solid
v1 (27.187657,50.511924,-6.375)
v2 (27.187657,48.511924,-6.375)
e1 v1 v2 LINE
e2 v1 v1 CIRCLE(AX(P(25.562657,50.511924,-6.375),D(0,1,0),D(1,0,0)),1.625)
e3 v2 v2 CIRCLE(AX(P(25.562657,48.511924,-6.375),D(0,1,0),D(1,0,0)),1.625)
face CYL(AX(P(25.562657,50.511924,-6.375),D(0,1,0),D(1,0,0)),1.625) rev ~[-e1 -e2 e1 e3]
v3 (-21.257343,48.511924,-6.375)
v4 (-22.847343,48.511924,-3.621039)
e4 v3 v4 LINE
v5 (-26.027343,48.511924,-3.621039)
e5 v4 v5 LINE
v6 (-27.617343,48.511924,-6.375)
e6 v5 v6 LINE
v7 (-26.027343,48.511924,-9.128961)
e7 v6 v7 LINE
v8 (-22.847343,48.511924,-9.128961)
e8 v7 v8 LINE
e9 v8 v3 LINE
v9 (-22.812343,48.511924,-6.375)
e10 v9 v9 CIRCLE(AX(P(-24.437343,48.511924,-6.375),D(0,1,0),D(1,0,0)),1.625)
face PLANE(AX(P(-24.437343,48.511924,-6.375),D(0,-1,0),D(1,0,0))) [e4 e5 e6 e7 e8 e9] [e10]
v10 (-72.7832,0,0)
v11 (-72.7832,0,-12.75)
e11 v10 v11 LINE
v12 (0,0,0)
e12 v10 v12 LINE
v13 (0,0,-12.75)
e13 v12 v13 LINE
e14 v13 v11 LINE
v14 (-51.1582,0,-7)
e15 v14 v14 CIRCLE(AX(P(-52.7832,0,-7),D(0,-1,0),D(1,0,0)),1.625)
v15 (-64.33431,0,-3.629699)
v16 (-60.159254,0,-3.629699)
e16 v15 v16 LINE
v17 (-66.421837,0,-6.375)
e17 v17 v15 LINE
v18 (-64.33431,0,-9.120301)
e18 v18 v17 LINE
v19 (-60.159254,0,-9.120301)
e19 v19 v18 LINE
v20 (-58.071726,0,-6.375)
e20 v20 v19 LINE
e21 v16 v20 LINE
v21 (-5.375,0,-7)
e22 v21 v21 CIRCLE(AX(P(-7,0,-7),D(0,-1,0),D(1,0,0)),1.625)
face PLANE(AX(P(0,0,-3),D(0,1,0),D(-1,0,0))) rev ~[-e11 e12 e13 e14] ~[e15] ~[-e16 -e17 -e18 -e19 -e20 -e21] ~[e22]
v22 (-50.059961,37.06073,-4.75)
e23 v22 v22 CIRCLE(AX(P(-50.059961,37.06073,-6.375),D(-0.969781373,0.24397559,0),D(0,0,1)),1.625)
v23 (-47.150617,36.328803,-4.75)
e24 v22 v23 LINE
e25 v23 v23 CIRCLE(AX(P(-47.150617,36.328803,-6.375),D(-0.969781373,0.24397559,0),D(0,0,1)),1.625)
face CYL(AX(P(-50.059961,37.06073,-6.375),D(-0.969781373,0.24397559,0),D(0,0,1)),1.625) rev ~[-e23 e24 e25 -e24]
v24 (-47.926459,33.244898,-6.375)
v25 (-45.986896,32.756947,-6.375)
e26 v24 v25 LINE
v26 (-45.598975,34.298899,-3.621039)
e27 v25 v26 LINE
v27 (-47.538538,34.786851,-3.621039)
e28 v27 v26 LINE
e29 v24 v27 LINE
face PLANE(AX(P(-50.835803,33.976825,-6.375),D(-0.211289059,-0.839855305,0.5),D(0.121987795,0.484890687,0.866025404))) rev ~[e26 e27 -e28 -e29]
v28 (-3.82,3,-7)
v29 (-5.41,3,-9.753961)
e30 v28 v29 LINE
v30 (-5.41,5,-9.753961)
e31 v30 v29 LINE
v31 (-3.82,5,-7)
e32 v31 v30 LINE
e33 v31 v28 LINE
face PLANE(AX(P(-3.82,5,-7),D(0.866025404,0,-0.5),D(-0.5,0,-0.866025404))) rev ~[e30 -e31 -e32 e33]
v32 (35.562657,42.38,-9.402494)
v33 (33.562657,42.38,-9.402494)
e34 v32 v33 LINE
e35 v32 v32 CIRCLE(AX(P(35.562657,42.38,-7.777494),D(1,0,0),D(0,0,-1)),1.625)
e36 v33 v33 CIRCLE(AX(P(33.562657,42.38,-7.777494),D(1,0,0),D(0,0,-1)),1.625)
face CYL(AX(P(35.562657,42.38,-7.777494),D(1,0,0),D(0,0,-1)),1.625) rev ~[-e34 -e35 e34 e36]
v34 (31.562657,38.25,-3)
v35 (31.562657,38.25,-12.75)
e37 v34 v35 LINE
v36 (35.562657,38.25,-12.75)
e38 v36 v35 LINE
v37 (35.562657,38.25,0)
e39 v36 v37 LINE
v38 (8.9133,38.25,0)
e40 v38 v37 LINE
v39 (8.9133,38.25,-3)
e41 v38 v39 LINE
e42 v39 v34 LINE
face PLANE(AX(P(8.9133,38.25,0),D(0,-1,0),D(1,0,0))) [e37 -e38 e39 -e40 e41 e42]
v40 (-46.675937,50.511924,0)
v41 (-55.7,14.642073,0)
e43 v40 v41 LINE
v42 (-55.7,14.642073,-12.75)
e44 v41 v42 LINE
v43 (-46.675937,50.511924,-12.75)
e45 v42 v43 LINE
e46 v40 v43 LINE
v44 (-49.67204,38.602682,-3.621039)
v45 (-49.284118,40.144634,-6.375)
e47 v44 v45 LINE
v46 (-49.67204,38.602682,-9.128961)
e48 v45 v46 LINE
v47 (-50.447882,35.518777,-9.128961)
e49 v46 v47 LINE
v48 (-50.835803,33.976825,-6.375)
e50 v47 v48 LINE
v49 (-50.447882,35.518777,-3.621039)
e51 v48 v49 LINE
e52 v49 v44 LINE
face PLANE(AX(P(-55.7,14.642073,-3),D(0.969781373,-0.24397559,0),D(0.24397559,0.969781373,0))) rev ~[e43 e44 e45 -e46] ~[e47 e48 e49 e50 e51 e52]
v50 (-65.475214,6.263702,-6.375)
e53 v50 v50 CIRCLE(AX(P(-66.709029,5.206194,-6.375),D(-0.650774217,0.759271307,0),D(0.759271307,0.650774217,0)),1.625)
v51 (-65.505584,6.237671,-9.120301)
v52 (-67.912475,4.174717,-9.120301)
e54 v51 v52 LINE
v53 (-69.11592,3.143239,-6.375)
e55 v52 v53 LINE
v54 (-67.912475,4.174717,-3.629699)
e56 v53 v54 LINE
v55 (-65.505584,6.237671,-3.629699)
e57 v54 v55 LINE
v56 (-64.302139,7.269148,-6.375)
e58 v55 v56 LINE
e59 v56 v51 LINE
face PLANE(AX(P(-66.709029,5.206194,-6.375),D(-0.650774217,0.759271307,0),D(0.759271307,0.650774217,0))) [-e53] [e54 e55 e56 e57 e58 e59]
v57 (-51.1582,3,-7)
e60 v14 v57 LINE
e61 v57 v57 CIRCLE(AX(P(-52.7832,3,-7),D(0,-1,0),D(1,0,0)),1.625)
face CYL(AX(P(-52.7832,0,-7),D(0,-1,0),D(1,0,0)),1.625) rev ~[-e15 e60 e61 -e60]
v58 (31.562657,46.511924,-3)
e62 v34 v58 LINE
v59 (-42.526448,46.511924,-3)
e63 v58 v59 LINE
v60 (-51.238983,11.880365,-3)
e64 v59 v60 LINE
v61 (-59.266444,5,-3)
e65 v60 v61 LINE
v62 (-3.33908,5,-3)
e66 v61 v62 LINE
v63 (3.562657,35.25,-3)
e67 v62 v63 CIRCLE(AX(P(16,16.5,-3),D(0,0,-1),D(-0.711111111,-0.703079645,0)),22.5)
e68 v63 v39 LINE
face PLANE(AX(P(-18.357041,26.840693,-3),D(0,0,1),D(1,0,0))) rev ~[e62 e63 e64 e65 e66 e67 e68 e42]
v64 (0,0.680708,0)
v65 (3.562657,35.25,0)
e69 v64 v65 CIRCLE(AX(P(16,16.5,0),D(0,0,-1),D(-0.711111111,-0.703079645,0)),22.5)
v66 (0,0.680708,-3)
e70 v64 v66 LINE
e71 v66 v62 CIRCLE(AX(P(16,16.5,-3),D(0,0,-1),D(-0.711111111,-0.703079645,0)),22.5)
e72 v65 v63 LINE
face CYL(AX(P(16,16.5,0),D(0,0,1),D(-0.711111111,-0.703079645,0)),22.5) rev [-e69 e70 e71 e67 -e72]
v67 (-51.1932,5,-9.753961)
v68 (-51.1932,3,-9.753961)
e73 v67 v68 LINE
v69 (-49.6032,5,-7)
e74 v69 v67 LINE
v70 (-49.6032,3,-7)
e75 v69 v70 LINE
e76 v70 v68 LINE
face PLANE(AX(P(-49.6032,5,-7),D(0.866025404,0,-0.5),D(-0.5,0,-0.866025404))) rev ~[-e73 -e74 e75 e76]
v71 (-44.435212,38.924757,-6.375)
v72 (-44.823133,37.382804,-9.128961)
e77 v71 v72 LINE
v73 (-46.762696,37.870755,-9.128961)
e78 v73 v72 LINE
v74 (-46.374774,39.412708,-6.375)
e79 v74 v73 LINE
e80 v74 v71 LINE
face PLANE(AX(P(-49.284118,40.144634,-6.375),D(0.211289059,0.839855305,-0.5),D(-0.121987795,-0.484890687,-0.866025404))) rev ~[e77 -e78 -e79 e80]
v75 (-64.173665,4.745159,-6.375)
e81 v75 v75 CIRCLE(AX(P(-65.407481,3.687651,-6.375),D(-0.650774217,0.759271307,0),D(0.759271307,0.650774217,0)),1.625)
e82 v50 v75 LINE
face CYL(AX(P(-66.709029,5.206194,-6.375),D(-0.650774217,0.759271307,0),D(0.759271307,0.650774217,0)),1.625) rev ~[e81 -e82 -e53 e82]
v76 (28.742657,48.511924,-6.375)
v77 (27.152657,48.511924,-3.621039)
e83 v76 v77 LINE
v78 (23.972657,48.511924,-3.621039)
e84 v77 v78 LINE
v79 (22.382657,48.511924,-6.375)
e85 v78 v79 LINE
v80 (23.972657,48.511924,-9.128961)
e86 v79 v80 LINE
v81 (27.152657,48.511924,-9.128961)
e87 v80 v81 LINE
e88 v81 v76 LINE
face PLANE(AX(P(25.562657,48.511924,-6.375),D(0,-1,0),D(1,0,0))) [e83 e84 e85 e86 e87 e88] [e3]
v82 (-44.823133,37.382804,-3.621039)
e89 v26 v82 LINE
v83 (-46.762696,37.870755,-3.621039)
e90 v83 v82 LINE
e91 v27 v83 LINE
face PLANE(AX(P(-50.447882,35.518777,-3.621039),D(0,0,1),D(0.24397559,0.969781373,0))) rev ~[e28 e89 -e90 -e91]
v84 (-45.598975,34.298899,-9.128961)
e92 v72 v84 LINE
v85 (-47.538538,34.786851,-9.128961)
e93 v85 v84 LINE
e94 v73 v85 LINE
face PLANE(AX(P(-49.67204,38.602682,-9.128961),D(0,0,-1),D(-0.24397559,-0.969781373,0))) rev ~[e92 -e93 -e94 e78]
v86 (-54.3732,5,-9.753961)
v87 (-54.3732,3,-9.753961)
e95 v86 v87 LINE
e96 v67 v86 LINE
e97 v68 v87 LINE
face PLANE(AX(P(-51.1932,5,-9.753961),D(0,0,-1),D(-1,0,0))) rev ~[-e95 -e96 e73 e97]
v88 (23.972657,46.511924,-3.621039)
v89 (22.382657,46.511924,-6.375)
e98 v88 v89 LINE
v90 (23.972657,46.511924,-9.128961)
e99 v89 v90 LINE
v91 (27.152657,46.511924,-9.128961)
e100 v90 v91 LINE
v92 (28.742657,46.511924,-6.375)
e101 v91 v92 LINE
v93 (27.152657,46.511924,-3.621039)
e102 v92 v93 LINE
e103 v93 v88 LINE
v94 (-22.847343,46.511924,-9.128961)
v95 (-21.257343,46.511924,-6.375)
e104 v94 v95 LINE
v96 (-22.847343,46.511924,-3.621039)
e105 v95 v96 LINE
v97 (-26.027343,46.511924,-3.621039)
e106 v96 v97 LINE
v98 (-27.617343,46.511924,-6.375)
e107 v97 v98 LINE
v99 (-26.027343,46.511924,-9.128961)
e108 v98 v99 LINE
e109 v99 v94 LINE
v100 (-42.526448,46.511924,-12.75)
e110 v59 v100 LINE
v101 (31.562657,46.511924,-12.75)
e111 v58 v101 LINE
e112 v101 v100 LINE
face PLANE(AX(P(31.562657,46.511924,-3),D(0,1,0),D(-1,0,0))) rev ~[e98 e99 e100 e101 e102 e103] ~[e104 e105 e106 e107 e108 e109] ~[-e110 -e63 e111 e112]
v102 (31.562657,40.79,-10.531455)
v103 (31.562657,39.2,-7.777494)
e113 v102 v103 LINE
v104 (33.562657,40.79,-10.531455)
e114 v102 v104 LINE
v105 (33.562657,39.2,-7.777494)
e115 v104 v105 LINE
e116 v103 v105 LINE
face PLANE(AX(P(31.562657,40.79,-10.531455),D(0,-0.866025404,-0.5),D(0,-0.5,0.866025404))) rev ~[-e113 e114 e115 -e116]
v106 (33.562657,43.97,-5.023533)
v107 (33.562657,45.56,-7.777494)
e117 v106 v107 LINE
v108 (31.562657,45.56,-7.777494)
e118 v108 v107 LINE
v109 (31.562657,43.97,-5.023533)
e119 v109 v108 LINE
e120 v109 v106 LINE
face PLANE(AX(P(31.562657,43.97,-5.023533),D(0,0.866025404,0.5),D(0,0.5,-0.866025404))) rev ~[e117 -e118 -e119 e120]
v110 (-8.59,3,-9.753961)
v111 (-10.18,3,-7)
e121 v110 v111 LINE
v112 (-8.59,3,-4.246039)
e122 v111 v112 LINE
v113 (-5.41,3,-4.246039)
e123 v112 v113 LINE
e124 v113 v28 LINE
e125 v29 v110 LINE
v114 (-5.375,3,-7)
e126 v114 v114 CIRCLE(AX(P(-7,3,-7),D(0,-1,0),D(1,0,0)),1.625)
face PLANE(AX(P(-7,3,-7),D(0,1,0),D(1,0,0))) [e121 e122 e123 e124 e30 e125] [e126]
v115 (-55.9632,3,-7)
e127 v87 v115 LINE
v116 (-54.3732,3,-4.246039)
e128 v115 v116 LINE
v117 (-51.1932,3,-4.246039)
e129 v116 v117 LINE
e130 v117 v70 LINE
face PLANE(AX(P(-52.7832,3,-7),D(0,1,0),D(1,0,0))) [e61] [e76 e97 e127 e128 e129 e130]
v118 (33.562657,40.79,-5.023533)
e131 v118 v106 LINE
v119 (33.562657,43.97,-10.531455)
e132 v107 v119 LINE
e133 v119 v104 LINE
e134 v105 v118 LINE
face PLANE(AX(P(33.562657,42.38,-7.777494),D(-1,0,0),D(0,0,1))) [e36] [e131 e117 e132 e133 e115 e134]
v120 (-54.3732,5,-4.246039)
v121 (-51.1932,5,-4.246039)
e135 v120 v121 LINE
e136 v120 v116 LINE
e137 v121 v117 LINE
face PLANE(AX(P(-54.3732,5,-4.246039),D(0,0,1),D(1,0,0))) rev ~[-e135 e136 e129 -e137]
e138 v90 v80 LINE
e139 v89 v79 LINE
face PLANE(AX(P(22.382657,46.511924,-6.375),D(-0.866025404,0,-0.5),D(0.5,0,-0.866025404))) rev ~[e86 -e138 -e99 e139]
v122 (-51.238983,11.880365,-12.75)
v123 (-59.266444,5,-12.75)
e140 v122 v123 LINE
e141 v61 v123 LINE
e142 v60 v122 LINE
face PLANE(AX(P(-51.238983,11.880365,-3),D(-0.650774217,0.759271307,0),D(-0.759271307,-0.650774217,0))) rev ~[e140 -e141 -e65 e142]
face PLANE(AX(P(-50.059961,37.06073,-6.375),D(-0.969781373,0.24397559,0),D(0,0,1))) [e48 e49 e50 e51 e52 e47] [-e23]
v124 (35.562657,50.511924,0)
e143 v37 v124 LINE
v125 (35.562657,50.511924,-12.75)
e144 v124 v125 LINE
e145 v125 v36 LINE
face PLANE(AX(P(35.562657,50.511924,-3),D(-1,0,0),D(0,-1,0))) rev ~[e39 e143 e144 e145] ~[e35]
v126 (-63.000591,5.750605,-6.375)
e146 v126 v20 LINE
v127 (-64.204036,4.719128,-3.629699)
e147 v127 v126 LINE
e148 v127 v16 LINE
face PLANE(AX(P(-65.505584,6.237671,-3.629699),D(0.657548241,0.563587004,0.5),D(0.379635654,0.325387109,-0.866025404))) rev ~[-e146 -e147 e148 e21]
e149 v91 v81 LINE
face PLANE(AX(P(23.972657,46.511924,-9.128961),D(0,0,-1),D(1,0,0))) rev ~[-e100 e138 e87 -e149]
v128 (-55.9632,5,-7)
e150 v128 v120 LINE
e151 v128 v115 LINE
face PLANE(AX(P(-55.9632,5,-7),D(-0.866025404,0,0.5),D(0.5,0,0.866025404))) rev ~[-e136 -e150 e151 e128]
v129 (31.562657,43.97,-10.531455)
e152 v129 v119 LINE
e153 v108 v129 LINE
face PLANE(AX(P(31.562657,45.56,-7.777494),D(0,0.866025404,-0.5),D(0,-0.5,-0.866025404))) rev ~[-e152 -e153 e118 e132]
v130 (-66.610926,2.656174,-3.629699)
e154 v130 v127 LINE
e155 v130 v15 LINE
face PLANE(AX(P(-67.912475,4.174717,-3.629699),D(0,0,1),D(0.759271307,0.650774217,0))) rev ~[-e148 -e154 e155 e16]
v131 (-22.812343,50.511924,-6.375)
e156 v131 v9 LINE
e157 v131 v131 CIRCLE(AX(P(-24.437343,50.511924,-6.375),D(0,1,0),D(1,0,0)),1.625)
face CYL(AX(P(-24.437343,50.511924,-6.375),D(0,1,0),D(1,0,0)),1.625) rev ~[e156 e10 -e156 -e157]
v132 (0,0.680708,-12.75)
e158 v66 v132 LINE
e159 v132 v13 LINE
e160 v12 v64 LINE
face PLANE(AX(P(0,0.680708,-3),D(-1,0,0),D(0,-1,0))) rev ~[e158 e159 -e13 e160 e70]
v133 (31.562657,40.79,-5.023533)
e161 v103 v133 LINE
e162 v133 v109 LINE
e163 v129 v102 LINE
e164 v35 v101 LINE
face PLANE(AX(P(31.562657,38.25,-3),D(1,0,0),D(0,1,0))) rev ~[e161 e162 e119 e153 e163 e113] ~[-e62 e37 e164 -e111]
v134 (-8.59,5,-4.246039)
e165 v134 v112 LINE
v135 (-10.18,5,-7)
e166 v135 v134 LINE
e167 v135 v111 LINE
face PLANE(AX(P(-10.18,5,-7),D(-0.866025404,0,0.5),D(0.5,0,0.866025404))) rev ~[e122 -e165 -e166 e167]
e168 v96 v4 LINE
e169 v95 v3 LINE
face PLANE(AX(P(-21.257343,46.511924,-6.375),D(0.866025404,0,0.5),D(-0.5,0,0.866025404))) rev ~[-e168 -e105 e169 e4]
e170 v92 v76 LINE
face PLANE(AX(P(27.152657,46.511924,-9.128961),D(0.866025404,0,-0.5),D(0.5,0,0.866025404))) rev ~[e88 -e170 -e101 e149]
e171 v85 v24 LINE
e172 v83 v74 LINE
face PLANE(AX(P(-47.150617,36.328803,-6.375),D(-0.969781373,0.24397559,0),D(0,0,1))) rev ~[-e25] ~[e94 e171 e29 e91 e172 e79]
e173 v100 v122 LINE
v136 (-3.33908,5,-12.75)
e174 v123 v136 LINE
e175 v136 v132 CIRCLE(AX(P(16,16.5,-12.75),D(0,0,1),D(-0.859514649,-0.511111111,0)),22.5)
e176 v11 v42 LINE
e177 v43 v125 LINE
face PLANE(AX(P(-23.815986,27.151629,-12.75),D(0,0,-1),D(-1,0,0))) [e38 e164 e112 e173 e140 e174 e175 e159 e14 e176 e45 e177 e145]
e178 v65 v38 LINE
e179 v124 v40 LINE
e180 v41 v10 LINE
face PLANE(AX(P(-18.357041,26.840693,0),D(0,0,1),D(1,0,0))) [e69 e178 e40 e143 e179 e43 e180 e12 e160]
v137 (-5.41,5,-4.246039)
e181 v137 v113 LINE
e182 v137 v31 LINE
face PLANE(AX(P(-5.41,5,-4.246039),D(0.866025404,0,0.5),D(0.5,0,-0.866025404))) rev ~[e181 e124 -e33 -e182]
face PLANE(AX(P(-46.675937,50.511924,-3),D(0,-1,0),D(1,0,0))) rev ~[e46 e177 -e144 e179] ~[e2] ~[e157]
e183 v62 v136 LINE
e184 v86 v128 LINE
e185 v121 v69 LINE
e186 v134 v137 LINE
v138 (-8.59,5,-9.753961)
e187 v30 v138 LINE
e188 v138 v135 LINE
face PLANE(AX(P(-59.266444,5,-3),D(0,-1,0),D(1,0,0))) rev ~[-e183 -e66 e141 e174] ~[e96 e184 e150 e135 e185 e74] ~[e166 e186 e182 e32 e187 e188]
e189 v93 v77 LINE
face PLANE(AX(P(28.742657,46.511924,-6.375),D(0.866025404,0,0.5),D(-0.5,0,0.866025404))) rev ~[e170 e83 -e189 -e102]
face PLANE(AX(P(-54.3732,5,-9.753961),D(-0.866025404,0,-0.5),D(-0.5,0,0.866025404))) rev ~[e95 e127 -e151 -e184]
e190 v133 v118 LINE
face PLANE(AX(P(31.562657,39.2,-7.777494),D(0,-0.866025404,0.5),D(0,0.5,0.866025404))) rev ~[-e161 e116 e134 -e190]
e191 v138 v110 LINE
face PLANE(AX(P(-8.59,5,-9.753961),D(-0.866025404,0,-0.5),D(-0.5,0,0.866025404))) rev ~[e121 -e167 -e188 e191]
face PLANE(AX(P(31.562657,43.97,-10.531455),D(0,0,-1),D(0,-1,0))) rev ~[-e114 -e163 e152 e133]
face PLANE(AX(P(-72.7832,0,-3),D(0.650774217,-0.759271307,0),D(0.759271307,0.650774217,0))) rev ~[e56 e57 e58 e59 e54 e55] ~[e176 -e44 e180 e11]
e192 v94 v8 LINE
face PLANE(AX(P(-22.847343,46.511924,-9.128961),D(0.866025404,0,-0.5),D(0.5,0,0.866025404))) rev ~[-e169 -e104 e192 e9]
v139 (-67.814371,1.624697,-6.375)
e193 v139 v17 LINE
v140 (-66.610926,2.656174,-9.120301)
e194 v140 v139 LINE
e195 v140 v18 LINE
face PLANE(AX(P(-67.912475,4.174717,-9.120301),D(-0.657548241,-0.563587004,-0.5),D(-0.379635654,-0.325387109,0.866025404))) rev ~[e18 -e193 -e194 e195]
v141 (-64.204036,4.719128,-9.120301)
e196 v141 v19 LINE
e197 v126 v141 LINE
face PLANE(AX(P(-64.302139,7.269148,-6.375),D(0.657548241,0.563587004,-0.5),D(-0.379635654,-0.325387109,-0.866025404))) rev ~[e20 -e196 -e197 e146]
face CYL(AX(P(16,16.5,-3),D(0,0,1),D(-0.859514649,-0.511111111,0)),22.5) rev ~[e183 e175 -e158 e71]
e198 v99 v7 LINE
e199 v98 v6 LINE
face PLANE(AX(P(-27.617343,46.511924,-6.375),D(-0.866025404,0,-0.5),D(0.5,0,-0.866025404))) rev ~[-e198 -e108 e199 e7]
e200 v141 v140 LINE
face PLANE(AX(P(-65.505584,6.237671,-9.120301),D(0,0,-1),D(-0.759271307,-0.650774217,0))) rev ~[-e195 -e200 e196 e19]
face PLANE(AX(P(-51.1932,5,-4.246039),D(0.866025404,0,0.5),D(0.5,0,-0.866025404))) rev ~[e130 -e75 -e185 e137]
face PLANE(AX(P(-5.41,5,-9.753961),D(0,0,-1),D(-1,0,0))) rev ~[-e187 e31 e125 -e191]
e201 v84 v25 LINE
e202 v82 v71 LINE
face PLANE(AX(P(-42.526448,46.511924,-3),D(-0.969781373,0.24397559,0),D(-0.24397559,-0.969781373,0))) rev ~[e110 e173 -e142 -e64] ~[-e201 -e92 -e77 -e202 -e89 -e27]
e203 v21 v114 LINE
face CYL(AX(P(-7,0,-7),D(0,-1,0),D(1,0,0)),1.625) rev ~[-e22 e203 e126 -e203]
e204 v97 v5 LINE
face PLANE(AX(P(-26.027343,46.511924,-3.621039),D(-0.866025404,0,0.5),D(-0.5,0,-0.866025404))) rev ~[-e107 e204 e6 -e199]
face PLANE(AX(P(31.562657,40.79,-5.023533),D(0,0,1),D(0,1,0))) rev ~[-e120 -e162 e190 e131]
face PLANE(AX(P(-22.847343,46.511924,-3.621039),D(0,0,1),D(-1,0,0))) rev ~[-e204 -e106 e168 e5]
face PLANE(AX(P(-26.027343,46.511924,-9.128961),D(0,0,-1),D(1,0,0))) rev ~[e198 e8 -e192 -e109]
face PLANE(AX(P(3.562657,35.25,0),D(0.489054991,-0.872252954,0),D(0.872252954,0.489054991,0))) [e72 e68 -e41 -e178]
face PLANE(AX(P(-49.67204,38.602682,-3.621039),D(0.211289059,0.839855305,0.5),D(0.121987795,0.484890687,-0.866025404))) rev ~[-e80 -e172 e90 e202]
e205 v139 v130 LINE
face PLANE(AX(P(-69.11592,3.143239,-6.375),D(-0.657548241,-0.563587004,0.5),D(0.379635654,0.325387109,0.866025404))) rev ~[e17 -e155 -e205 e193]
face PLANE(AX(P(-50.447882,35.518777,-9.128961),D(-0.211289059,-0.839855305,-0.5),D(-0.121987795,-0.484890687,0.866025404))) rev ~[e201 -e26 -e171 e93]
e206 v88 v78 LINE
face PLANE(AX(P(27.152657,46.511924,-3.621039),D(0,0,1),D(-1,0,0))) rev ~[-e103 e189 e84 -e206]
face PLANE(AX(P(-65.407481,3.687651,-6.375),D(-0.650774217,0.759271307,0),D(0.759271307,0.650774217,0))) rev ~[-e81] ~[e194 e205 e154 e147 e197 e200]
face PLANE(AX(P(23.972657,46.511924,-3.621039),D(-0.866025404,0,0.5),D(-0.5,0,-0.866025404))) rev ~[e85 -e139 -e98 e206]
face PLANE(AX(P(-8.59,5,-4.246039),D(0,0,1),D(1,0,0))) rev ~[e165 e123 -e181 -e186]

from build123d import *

# Parameters (mm, degrees)
SALIENTE_EXTRUIR1_DEPTH = 3
SALIENTE_EXTRUIR2_DEPTH = 9.75
CROQUIS4_R              = 1.625
CORTAR_EXTRUIR1_DEPTH   = 5
CORTAR_EXTRUIR2_DEPTH   = 2
CROQUIS6_R              = 1.625
CORTAR_EXTRUIR3_DEPTH   = 9
CORTAR_EXTRUIR4_DEPTH   = 10
CROQUIS10_R             = 1.625
SALIENTE_EXTRUIR3_DEPTH = 2
CORTAR_EXTRUIR5_DEPTH   = 5
CROQUIS14_R             = 1.625
SALIENTE_EXTRUIR4_DEPTH = 3
CROQUIS15_R             = 1.625
CORTAR_EXTRUIR6_DEPTH   = 4
CORTAR_EXTRUIR7_DEPTH   = 2
CROQUIS17_R             = 1.625
CORTAR_EXTRUIR9_DEPTH   = 4
CORTAR_EXTRUIR10_DEPTH  = 2


with BuildPart() as part:
    # Croquis1 → Saliente-Extruir1 (new body)
    with BuildSketch(Plane.XY):
        with BuildLine():
            Line((-46.67593732, 50.511923567), (-55.699999998, 14.642073221))
            Line((-55.699999998, 14.642073221), (-72.78319995, 0))
            Line((-72.78319995, 0), (0, 0))
            Line((0, 0), (0, 0.68070798))
            ThreePointArc((0, 0.68070798), (-6.381456753, 18.806597842), (3.562657036, 35.25))
            Line((3.562657036, 35.25), (8.913300435, 38.25))
            Line((8.913300435, 38.25), (35.562657036, 38.25))
            Line((35.562657036, 38.25), (35.562657036, 50.511923567))
            Line((35.562657036, 50.511923567), (-46.67593732, 50.511923567))
        make_face()
    extrude(amount=-SALIENTE_EXTRUIR1_DEPTH)

    # Croquis2 → Saliente-Extruir2 (add)
    with BuildSketch(Plane(origin=(0, 0, -3), x_dir=(-1, 0, 0), z_dir=(0, 0, -1))):
        with BuildLine():
            Line((42.526447804, 46.511923567), (51.238983488, 11.880365447))
            Line((51.238983488, 11.880365447), (59.266443595, 5))
            Line((59.266443595, 5), (3.339079606, 5))
            ThreePointArc((3.339079606, 5), (1.801031086, 2.738703104), (0, 0.68070798))
            Line((0, 0.68070798), (0, 0))
            Line((0, 0), (72.78319995, 0))
            Line((72.78319995, 0), (55.699999998, 14.642073221))
            Line((55.699999998, 14.642073221), (46.67593732, 50.511923567))
            Line((46.67593732, 50.511923567), (-35.562657036, 50.511923567))
            Line((-35.562657036, 50.511923567), (-35.562657036, 38.25))
            Line((-35.562657036, 38.25), (-31.562657036, 38.25))
            Line((-31.562657036, 38.25), (-31.562657036, 46.511923567))
            Line((-31.562657036, 46.511923567), (42.526447804, 46.511923567))
        make_face()
    extrude(amount=SALIENTE_EXTRUIR2_DEPTH)

    # Croquis4 → Cortar-Extruir1 (cut)
    with BuildSketch(Plane.XZ):
        with Locations((-6.999999998, -7)):
            Circle(CROQUIS4_R)
        with Locations((-52.78319995, -7)):
            Circle(CROQUIS4_R)
    extrude(amount=-CORTAR_EXTRUIR1_DEPTH, mode=Mode.SUBTRACT)

    # Croquis5 → Cortar-Extruir2 (cut)
    with BuildSketch(Plane(origin=(0, 5, 0), x_dir=(1, 0, 0), z_dir=(0, 1, 0))):
        Polygon((-10.179999998, 7), (-8.589999998, 4.246039216), (-5.409999998, 4.246039216), (-3.819999998, 7), (-5.409999998, 9.753960784), (-8.589999998, 9.753960784), align=None)
        Polygon((-49.60319995, 7), (-51.19319995, 9.753960784), (-54.37319995, 9.753960784), (-55.96319995, 7), (-54.37319995, 4.246039216), (-51.19319995, 4.246039216), align=None)
    extrude(amount=-CORTAR_EXTRUIR2_DEPTH, mode=Mode.SUBTRACT)

    # Croquis6 → Cortar-Extruir3 (cut)
    with BuildSketch(Plane(origin=(-30.824200619, 35.963211942, 0), x_dir=(0.759271307, 0.650774217, 0), z_dir=(-0.650774217, 0.759271307, 0))):
        with Locations((-47.262195378, 6.375)):
            Circle(CROQUIS6_R)
    extrude(amount=-CORTAR_EXTRUIR3_DEPTH, mode=Mode.SUBTRACT)

    # Croquis9 → Cortar-Extruir4 (cut)
    with BuildSketch(Plane(origin=(-30.824200619, 35.963211942, 0), x_dir=(0.759271307, 0.650774217, 0), z_dir=(-0.650774217, 0.759271307, 0))):
        Polygon((-50.432195378, 6.375), (-48.847195378, 3.62969947), (-45.677195378, 3.62969947), (-44.092195378, 6.375), (-45.677195378, 9.12030053), (-48.847195378, 9.12030053), align=None)
    extrude(amount=-CORTAR_EXTRUIR4_DEPTH, mode=Mode.SUBTRACT)

    # Croquis10 → Saliente-Extruir3 (add)
    with BuildSketch(Plane(origin=(-30.824200619, 35.963211942, 0), x_dir=(0.759271307, 0.650774217, 0), z_dir=(-0.650774217, 0.759271307, 0))):
        Polygon((-50.432195378, 6.375), (-48.847195378, 3.62969947), (-45.677195378, 3.62969947), (-44.092195378, 6.375), (-45.677195378, 9.12030053), (-48.847195378, 9.12030053), align=None)
        with Locations((-47.262195378, 6.375)):
            Circle(CROQUIS10_R, mode=Mode.SUBTRACT)
    extrude(amount=-SALIENTE_EXTRUIR3_DEPTH)

    # Croquis13 → Cortar-Extruir5 (cut)
    with BuildSketch(Plane(origin=(-55.848866467, 14.050342186, 0), x_dir=(0, 0, 1), z_dir=(-0.969781373, 0.24397559, 0))):
        Polygon((-6.375, 20.547396855), (-3.621039216, 22.137396855), (-3.621039216, 25.317396855), (-6.375, 26.907396855), (-9.128960784, 25.317396855), (-9.128960784, 22.137396855), align=None)
    extrude(amount=-CORTAR_EXTRUIR5_DEPTH, mode=Mode.SUBTRACT)

    # Croquis14 → Saliente-Extruir4 (add)
    with BuildSketch(Plane(origin=(-55.848866467, 14.050342186, 0), x_dir=(0, 0, 1), z_dir=(-0.969781373, 0.24397559, 0))):
        Polygon((-6.375, 26.907396855), (-9.128960784, 25.317396855), (-9.128960784, 22.137396855), (-6.375, 20.547396855), (-3.621039216, 22.137396855), (-3.621039216, 25.317396855), align=None)
        with Locations((-6.375, 23.727396855)):
            Circle(CROQUIS14_R, mode=Mode.SUBTRACT)
    extrude(amount=-SALIENTE_EXTRUIR4_DEPTH)

    # Croquis15 → Cortar-Extruir6 (cut)
    with BuildSketch(Plane(origin=(0, 50.511923567, 0), x_dir=(1, 0, 0), z_dir=(0, 1, 0))):
        with Locations((25.562657036, 6.375)):
            Circle(CROQUIS15_R)
        with Locations((-24.437342964, 6.375)):
            Circle(CROQUIS15_R)
    extrude(amount=-CORTAR_EXTRUIR6_DEPTH, mode=Mode.SUBTRACT)

    # Croquis16 → Cortar-Extruir7 (cut)
    with BuildSketch(Plane.XZ.offset(-46.511923567)):
        Polygon((22.382657036, -6.375), (23.972657036, -9.128960784), (27.152657036, -9.128960784), (28.742657036, -6.375), (27.152657036, -3.621039216), (23.972657036, -3.621039216), align=None)
        Polygon((-21.257342964, -6.375), (-22.847342964, -3.621039216), (-26.027342964, -3.621039216), (-27.617342964, -6.375), (-26.027342964, -9.128960784), (-22.847342964, -9.128960784), align=None)
    extrude(amount=-CORTAR_EXTRUIR7_DEPTH, mode=Mode.SUBTRACT)

    # Croquis17 → Cortar-Extruir9 (cut)
    with BuildSketch(Plane(origin=(35.562657036, 0, 0), x_dir=(0, 0, -1), z_dir=(1, 0, 0))):
        with Locations((7.777494034, 42.38)):
            Circle(CROQUIS17_R)
    extrude(amount=-CORTAR_EXTRUIR9_DEPTH, mode=Mode.SUBTRACT)

    # Croquis18 → Cortar-Extruir10 (cut)
    with BuildSketch(Plane.ZY.offset(-31.562657036)):
        Polygon((-7.777494034, 39.2), (-5.02353325, 40.79), (-5.02353325, 43.97), (-7.777494034, 45.56), (-10.531454818, 43.97), (-10.531454818, 40.79), align=None)
    extrude(amount=-CORTAR_EXTRUIR10_DEPTH, mode=Mode.SUBTRACT)


solid = part.part
